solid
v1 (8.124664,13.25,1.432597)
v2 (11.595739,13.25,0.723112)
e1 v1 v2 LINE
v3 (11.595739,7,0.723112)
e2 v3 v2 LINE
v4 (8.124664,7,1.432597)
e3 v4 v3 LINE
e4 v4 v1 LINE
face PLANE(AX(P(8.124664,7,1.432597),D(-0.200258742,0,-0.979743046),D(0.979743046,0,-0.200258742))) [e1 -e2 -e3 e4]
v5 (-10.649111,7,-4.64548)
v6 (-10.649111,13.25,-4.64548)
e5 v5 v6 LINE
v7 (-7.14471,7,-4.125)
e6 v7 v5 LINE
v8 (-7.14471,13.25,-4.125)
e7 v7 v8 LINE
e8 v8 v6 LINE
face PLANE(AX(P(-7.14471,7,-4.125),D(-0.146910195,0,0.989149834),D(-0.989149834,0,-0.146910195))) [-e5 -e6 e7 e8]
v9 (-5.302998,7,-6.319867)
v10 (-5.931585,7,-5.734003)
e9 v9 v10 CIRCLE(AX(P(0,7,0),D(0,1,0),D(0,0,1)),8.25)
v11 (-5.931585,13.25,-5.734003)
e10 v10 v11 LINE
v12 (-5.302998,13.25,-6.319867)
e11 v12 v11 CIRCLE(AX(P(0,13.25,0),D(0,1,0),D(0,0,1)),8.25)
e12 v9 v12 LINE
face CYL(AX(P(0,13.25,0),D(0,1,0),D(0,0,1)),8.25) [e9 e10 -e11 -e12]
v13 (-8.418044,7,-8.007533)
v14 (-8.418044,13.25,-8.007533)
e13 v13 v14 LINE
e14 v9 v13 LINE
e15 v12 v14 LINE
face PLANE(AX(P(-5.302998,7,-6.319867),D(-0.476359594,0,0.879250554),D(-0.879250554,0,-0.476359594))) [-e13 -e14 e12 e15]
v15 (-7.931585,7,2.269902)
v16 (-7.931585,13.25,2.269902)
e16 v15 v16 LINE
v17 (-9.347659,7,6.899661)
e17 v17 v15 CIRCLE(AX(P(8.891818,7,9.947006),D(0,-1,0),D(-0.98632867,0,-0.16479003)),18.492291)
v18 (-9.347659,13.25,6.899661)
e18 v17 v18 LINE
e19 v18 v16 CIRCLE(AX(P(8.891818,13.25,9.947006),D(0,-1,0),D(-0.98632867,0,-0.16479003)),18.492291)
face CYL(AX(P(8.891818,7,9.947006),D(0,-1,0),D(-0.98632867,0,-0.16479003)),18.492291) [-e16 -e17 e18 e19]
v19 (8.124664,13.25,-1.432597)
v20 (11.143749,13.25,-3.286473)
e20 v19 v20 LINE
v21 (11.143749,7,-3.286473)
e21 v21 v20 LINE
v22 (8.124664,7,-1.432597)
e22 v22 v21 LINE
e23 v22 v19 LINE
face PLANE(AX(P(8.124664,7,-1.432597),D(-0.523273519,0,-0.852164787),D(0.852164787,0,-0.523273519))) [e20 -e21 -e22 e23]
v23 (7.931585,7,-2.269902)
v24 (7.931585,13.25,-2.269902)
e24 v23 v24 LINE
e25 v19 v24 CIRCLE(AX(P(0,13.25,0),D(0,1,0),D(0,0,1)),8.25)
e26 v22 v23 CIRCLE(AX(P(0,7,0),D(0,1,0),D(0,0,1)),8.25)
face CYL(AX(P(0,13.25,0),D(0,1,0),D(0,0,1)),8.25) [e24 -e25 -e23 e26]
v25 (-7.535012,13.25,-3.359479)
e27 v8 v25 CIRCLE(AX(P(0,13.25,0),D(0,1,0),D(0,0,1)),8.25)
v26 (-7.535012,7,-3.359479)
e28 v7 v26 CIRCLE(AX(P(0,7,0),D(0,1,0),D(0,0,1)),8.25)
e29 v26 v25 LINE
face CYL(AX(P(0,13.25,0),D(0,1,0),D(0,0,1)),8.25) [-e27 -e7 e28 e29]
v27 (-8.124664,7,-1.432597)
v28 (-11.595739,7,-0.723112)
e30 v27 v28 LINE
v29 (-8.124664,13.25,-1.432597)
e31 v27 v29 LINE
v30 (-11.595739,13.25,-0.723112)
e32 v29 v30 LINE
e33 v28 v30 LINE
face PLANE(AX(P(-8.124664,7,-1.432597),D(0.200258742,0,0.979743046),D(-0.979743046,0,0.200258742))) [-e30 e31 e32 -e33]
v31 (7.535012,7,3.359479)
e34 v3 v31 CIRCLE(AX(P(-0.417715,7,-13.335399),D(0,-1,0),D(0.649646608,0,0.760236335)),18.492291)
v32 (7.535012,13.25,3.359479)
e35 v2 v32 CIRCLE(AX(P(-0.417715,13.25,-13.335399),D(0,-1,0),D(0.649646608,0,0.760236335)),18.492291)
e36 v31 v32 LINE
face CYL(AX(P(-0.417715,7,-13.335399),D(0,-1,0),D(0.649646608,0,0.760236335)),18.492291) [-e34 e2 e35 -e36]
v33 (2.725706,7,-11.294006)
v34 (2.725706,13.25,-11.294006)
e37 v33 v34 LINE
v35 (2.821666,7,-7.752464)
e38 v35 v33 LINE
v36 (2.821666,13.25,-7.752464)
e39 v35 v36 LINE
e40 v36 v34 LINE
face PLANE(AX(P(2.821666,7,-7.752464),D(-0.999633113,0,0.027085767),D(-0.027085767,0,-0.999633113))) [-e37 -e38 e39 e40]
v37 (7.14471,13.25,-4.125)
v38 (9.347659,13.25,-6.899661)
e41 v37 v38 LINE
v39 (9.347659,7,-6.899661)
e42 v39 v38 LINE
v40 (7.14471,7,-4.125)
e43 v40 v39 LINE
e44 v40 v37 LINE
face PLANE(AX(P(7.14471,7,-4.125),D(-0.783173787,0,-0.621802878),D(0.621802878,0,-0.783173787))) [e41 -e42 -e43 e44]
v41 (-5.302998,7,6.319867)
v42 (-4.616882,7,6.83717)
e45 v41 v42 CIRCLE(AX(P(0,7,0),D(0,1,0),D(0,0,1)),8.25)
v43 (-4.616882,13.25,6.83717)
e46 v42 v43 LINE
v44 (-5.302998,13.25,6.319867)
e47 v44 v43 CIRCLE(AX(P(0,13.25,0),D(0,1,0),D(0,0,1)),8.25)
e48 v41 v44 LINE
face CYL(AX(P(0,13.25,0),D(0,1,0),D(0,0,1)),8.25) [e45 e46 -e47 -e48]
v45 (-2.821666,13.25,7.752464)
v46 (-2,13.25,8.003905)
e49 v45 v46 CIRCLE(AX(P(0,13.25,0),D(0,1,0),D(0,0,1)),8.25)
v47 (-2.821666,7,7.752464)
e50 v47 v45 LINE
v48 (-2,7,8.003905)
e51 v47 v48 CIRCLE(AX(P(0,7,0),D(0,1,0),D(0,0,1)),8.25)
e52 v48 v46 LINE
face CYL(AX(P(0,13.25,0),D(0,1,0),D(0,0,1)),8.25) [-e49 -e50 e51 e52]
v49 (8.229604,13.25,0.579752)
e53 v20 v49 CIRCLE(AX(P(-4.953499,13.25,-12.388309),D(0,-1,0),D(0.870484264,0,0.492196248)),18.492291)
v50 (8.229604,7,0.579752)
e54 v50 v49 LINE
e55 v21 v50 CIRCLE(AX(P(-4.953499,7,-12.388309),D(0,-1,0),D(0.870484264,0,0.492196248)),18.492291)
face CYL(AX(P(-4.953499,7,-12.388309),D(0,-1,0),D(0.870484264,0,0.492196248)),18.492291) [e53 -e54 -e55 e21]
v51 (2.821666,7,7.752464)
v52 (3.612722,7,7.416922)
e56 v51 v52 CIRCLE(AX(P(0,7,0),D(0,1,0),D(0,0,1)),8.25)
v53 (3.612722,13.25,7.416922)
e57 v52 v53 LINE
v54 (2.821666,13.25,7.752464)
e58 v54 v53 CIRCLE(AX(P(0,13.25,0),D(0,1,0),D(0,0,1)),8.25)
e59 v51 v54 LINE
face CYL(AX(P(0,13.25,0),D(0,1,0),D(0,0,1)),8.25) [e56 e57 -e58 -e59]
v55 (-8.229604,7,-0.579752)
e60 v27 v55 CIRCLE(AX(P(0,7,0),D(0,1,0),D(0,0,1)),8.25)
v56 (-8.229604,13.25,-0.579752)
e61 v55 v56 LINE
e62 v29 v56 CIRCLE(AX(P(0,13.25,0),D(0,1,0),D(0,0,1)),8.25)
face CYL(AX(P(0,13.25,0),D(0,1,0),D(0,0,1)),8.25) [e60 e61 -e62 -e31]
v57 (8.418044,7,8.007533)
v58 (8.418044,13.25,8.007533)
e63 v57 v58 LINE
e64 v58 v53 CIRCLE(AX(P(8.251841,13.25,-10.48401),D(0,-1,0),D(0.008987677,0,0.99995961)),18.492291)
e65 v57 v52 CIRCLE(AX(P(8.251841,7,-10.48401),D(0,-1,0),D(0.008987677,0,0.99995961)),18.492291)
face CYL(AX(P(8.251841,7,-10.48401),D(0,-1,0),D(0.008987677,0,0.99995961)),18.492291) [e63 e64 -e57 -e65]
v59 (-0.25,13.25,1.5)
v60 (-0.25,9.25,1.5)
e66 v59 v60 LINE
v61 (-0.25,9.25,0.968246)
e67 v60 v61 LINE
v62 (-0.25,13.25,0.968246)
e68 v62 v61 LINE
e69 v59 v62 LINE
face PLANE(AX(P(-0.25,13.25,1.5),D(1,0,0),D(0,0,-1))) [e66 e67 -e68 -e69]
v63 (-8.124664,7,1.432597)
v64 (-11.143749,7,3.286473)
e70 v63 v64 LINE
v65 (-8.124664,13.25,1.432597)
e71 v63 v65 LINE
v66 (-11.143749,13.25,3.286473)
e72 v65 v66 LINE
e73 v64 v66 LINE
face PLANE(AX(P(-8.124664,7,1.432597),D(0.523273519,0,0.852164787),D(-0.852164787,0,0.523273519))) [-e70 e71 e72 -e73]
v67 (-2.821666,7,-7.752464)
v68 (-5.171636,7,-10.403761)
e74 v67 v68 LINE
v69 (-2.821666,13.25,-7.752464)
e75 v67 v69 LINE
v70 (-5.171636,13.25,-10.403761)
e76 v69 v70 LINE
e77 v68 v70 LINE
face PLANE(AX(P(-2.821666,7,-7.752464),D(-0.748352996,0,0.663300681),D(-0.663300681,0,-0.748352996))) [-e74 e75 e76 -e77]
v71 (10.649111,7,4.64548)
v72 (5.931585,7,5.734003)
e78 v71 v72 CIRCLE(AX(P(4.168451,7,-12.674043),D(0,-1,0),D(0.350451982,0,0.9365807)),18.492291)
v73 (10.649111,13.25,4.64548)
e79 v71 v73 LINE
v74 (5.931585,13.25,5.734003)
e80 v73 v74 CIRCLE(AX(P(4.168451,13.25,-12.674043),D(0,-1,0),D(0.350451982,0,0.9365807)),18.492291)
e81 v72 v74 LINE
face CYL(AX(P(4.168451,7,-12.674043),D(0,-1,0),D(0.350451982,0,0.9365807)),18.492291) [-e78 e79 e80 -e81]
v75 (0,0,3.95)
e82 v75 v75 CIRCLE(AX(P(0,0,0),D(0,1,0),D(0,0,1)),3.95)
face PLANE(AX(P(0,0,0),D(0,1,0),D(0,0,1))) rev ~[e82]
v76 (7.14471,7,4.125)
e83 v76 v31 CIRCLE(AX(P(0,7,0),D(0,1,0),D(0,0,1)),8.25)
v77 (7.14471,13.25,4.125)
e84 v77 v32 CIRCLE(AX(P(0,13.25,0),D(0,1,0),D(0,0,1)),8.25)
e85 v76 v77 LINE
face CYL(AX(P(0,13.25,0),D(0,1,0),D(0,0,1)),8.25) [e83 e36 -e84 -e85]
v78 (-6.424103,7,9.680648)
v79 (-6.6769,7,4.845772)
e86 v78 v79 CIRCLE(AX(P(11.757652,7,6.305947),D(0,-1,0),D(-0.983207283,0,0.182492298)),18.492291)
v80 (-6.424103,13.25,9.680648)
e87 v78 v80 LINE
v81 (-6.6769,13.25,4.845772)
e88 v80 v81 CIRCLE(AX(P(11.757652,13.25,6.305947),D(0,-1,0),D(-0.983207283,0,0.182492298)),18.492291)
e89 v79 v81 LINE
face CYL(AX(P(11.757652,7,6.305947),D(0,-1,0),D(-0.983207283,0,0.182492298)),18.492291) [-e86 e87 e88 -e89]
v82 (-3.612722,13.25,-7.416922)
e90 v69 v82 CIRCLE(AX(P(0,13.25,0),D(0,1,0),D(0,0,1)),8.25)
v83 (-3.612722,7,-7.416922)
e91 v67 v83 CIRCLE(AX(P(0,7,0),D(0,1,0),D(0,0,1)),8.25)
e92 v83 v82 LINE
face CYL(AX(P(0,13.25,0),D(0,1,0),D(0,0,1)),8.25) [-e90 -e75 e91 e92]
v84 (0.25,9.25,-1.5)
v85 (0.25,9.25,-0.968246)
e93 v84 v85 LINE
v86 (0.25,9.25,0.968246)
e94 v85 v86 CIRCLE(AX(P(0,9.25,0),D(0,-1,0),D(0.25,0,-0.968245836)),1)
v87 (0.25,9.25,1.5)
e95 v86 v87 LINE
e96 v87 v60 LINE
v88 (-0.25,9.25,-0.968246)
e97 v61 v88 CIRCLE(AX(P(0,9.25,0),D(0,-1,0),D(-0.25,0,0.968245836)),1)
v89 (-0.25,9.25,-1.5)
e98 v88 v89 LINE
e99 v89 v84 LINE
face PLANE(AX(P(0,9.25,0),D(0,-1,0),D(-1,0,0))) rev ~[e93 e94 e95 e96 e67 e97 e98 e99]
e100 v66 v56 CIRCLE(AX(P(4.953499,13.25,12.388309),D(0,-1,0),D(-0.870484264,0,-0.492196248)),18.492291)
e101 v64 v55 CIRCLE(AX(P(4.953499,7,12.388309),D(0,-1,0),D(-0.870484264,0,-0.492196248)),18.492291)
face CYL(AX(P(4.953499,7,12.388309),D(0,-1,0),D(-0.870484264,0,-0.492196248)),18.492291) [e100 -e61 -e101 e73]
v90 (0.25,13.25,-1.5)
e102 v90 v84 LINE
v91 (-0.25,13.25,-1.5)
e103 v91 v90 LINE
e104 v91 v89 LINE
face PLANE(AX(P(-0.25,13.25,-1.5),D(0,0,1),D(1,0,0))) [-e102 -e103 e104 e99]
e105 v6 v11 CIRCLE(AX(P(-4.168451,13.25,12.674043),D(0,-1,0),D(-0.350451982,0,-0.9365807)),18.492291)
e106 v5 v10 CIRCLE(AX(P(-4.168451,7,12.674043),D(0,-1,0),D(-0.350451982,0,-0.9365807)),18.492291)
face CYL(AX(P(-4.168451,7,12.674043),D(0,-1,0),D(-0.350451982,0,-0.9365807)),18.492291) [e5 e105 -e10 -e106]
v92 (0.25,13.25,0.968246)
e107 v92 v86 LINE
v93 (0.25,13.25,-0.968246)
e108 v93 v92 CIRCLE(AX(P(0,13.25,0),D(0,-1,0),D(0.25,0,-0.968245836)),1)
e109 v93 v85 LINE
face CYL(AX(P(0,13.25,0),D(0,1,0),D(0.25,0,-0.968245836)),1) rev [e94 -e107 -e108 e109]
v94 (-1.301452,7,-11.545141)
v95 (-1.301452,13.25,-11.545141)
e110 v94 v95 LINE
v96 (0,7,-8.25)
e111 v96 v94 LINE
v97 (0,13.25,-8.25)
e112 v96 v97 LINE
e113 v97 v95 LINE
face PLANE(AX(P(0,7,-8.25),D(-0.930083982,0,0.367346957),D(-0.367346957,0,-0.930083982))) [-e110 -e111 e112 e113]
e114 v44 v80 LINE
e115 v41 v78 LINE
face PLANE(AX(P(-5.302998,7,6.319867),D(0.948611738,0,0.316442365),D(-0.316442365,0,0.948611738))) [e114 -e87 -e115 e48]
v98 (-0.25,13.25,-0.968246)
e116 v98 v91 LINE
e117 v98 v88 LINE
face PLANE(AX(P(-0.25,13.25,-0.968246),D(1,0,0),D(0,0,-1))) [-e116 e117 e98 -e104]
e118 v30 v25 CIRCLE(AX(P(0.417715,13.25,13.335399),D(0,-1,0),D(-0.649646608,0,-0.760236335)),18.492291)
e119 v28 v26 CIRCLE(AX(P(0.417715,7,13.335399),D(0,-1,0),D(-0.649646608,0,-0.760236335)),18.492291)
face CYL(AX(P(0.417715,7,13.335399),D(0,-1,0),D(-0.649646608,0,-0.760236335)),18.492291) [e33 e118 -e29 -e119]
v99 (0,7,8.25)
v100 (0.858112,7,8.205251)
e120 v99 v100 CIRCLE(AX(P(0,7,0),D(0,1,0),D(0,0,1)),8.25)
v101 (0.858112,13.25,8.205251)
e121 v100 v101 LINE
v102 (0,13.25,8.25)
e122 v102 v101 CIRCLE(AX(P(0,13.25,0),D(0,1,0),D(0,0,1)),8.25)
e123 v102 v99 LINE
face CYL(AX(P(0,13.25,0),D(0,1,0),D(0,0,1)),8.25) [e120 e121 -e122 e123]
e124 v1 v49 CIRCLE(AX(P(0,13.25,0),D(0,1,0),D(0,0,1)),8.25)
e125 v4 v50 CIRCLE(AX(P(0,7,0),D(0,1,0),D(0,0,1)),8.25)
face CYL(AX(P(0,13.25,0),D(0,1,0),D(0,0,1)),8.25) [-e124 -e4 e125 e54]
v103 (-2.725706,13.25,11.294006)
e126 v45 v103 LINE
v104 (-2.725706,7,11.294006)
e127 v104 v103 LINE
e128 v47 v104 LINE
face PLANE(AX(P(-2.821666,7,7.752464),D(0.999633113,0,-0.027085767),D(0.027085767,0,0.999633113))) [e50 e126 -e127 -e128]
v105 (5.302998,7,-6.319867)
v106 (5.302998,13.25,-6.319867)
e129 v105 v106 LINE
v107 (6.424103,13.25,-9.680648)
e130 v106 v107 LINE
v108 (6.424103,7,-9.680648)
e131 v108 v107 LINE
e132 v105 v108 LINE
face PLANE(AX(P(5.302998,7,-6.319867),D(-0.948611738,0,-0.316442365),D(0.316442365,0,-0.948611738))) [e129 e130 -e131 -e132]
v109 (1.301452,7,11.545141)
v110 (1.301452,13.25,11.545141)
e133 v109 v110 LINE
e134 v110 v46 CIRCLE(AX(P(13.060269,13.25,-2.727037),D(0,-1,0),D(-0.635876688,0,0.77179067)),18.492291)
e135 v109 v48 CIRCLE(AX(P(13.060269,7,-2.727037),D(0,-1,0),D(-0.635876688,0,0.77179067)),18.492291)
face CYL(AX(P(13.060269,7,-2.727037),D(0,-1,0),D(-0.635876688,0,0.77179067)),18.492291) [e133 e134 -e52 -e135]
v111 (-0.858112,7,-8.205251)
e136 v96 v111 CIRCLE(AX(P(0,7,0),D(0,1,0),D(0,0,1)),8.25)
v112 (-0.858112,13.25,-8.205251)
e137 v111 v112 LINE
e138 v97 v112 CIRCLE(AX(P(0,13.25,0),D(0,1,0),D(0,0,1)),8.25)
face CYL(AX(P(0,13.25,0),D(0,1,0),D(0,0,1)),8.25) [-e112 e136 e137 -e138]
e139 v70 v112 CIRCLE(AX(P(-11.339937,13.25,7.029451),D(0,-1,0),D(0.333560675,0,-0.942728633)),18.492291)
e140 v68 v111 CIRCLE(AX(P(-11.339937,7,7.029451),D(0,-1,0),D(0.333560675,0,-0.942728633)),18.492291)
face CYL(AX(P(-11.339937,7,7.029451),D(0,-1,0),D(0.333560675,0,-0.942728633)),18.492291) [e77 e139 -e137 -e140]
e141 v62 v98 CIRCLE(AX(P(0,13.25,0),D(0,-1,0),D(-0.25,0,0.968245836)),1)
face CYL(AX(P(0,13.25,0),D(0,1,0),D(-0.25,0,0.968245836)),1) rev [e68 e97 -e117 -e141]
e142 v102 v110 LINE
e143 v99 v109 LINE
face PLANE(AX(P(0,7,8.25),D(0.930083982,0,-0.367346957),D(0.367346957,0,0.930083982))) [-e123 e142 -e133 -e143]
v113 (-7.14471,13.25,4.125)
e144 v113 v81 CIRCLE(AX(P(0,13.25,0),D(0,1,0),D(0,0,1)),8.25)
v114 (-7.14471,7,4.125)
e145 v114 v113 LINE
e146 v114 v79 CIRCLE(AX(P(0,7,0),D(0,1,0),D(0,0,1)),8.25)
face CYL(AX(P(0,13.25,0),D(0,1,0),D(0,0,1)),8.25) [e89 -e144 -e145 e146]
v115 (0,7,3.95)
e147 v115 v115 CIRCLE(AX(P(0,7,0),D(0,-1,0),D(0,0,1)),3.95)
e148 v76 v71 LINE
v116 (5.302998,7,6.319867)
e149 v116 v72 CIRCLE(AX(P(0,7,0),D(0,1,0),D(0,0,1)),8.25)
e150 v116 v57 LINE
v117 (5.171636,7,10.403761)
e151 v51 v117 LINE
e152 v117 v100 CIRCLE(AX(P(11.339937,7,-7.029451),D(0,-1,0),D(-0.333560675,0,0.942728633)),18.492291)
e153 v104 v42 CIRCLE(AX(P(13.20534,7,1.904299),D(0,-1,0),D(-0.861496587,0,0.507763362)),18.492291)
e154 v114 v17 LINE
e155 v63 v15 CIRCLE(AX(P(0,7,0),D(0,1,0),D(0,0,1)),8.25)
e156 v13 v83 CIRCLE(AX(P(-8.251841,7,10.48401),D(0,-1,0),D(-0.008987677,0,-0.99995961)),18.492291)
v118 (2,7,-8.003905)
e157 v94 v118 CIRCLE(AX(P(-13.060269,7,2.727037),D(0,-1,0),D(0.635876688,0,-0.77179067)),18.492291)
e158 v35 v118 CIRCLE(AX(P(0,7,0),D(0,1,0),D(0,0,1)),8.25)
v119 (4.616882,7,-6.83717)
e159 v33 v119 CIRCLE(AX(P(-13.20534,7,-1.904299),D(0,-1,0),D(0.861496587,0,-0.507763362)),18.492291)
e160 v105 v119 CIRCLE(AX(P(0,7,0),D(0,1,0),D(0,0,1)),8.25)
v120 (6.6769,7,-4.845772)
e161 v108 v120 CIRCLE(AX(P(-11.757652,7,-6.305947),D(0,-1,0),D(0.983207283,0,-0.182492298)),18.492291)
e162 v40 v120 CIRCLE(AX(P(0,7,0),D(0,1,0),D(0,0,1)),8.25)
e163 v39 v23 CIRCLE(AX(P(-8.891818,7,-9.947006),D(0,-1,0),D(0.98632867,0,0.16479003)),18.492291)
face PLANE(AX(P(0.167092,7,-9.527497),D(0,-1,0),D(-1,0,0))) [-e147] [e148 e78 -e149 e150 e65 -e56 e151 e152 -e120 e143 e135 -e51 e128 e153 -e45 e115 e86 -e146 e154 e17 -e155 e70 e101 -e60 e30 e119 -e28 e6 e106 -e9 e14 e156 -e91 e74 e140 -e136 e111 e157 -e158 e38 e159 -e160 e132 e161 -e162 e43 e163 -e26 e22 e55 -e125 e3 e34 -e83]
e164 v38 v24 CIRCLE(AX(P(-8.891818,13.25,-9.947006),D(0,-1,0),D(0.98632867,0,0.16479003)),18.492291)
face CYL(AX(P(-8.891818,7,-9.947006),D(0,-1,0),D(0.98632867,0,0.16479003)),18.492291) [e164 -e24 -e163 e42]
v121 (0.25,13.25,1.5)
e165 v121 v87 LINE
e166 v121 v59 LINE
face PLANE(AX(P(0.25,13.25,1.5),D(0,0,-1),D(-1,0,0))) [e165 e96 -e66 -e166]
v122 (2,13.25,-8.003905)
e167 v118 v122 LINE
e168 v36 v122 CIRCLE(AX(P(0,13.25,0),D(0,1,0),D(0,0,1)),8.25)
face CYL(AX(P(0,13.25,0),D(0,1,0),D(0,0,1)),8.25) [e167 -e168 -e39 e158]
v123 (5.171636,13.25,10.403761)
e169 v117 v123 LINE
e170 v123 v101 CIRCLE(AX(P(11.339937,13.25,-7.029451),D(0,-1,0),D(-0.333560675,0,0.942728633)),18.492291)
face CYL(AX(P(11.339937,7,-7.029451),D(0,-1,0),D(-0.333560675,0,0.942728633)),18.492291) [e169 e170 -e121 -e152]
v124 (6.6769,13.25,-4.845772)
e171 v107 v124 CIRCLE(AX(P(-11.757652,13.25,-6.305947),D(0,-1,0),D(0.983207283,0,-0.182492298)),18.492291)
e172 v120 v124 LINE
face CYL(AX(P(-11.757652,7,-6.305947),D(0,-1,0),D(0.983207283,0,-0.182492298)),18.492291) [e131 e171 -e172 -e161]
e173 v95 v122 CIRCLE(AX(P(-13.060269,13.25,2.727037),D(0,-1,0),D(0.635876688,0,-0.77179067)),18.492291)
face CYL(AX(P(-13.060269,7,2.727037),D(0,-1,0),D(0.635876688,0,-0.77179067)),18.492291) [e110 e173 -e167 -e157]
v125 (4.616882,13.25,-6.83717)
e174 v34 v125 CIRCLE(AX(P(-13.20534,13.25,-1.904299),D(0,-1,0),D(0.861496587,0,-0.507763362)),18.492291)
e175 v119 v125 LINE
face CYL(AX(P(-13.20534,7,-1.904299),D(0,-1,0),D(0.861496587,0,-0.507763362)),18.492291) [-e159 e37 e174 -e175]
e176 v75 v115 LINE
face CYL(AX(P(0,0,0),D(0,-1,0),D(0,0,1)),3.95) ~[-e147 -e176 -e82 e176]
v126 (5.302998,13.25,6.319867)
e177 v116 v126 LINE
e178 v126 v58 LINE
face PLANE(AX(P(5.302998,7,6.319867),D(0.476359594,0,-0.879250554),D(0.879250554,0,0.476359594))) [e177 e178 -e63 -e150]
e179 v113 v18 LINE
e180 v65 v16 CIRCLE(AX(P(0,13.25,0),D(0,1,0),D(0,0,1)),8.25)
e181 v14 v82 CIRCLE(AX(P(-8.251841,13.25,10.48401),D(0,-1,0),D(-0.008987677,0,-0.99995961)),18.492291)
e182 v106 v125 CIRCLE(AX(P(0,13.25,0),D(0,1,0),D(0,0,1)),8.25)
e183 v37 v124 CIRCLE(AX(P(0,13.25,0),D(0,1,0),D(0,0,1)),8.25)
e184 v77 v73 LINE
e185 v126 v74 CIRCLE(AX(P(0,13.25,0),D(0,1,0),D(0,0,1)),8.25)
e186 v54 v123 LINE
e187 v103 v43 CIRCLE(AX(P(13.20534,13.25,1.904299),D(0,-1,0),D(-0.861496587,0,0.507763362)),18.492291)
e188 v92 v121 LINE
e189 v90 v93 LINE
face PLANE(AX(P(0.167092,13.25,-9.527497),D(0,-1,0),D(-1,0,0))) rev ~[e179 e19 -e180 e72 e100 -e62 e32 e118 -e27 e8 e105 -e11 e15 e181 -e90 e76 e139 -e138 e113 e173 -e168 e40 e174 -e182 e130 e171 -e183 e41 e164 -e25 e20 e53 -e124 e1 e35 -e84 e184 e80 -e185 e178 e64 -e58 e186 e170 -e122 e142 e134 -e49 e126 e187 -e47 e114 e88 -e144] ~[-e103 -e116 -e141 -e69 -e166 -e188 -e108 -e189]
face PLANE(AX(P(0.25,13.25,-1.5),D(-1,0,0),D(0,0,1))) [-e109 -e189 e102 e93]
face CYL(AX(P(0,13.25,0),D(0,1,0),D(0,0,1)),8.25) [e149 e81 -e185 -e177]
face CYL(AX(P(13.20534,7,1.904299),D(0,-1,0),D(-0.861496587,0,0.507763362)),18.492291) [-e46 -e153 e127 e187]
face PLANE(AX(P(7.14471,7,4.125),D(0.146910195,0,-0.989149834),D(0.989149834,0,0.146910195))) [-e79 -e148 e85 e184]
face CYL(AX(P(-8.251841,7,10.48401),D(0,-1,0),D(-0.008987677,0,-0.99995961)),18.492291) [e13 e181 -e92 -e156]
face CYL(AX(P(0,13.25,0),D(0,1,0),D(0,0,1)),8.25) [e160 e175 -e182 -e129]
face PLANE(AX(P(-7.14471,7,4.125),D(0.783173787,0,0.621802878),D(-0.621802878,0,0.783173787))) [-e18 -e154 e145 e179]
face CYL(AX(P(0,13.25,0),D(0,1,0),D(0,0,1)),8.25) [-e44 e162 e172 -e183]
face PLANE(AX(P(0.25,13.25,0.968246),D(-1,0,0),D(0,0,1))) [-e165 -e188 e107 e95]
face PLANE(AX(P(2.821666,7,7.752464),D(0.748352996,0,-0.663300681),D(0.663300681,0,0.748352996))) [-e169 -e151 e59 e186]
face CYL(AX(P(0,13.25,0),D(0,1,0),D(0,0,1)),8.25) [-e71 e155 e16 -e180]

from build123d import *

# Parameters (mm, degrees)
SKETCH2_R           = 3.95
BOSS_EXTRUDE1_DEPTH = 13.25
SKETCH3_R           = 8.25
BOSS_EXTRUDE2_DEPTH = 6.25
CUT_EXTRUDE1_DEPTH  = 4
BOSS_EXTRUDE3_DEPTH = 6.25


with BuildPart() as part:
    # Sketch2 → Boss-Extrude1 (new body)
    with BuildSketch(Plane(origin=(0, 0, 0), x_dir=(1, 0, 0), z_dir=(0, 1, 0))):
        with Locations(Location((0, 0, 0), (0, 0, 270))):
            Circle(SKETCH2_R)
    extrude(amount=BOSS_EXTRUDE1_DEPTH)

    # Sketch3 → Boss-Extrude2 (add)
    with BuildSketch(Plane(origin=(0, 13.25, 0), x_dir=(1, 0, 0), z_dir=(0, 1, 0))):
        with Locations(Location((0, 0, 0), (0, 0, 270))):
            Circle(SKETCH3_R)
    extrude(amount=-BOSS_EXTRUDE2_DEPTH)

    # Sketch5 → Cut-Extrude1 (cut)
    with BuildSketch(Plane(origin=(0, 13.25, 0), x_dir=(1, 0, 0), z_dir=(0, 1, 0))):
        with BuildLine():
            Line((0.25, -0.968245837), (0.25, -1.5))
            Line((0.25, -1.5), (-0.25, -1.5))
            Line((-0.25, -1.5), (-0.25, -0.968245837))
            ThreePointArc((-0.25, -0.968245837), (-1, 0), (-0.25, 0.968245837))
            Line((-0.25, 0.968245837), (-0.25, 1.5))
            Line((-0.25, 1.5), (0.25, 1.5))
            Line((0.25, 1.5), (0.25, 0.968245837))
            ThreePointArc((0.25, 0.968245837), (1, 0), (0.25, -0.968245837))
        make_face()
    extrude(amount=-CUT_EXTRUDE1_DEPTH, mode=Mode.SUBTRACT)

    # Sketch4 → Boss-Extrude3 (add)
    with BuildSketch(Plane(origin=(0, 7, 0), x_dir=(1, 0, 0), z_dir=(0, 1, 0))):
        with BuildLine():
            Line((0, 8.25), (-1.301452207, 11.545140545))
            ThreePointArc((-1.301452207, 11.545140545), (0.465666366, 9.883034259), (2, 8.003905297))
            Line((2, 8.003905297), (0, 8.25))
        make_face()
        with BuildLine():
            Line((2.821666182, 7.752464121), (2.725705589, 11.294006247))
            ThreePointArc((2.725705589, 11.294006247), (3.817780042, 9.127747087), (4.616882078, 6.837170458))
            Line((4.616882078, 6.837170458), (2.821666182, 7.752464121))
        make_face()
        with BuildLine():
            Line((5.30299778, 6.319866656), (6.424103064, 9.680648113))
            ThreePointArc((6.424103064, 9.680648113), (6.7094131, 7.271518905), (6.67690004, 4.845771956))
            Line((6.67690004, 4.845771956), (5.30299778, 6.319866656))
        make_face()
        with BuildLine():
            Line((7.144709581, 4.125), (9.347658899, 6.899660946))
            ThreePointArc((9.347658899, 6.899660946), (8.791791918, 4.538238227), (7.931585317, 2.269901841))
            Line((7.931585317, 2.269901841), (7.144709581, 4.125))
        make_face()
        with BuildLine():
            Line((8.124663962, 1.432597466), (11.143749115, 3.28647284))
            ThreePointArc((11.143749115, 3.28647284), (9.813750878, 1.257579041), (8.229604346, -0.579751937))
            Line((8.229604346, -0.579751937), (8.124663962, 1.432597466))
        make_face()
        with BuildLine():
            Line((8.124663962, -1.432597466), (11.595738723, -0.723112393))
            ThreePointArc((11.595738723, -0.723112393), (9.652026646, -2.174762737), (7.535011635, -3.359479075))
            Line((7.535011635, -3.359479075), (8.124663962, -1.432597466))
        make_face()
        with BuildLine():
            Line((7.144709581, -4.125), (10.649111106, -4.6454796))
            ThreePointArc((10.649111106, -4.6454796), (8.326125552, -5.344796032), (5.931585317, -5.734003456))
            Line((5.931585317, -5.734003456), (7.144709581, -4.125))
        make_face()
        with BuildLine():
            Line((5.30299778, -6.319866656), (8.418043526, -8.007533407))
            ThreePointArc((8.418043526, -8.007533407), (5.995970836, -7.870168046), (3.612722268, -7.416922395))
            Line((3.612722268, -7.416922395), (5.30299778, -6.319866656))
        make_face()
        with BuildLine():
            Line((2.821666182, -7.752464121), (5.171635659, -10.403760506))
            ThreePointArc((5.171635659, -10.403760506), (2.942613546, -9.446281642), (0.858111595, -8.205251032))
            Line((0.858111595, -8.205251032), (2.821666182, -7.752464121))
        make_face()
        with BuildLine():
            Line((0, -8.25), (1.301452207, -11.545140545))
            ThreePointArc((1.301452207, -11.545140545), (-0.465666366, -9.883034259), (-2, -8.003905297))
            Line((-2, -8.003905297), (0, -8.25))
        make_face()
        with BuildLine():
            Line((-2.821666182, -7.752464121), (-2.725705589, -11.294006247))
            ThreePointArc((-2.725705589, -11.294006247), (-3.817780042, -9.127747087), (-4.616882078, -6.837170458))
            Line((-4.616882078, -6.837170458), (-2.821666182, -7.752464121))
        make_face()
        with BuildLine():
            Line((-5.30299778, -6.319866656), (-6.424103064, -9.680648113))
            ThreePointArc((-6.424103064, -9.680648113), (-6.7094131, -7.271518905), (-6.67690004, -4.845771956))
            Line((-6.67690004, -4.845771956), (-5.30299778, -6.319866656))
        make_face()
        with BuildLine():
            Line((-7.144709581, -4.125), (-9.347658899, -6.899660946))
            ThreePointArc((-9.347658899, -6.899660946), (-8.791791918, -4.538238227), (-7.931585317, -2.269901841))
            Line((-7.931585317, -2.269901841), (-7.144709581, -4.125))
        make_face()
        with BuildLine():
            Line((-8.124663962, -1.432597466), (-11.143749115, -3.28647284))
            ThreePointArc((-11.143749115, -3.28647284), (-9.813750878, -1.257579041), (-8.229604346, 0.579751937))
            Line((-8.229604346, 0.579751937), (-8.124663962, -1.432597466))
        make_face()
        with BuildLine():
            Line((-8.124663962, 1.432597466), (-11.595738723, 0.723112393))
            ThreePointArc((-11.595738723, 0.723112393), (-9.652026646, 2.174762737), (-7.535011635, 3.359479075))
            Line((-7.535011635, 3.359479075), (-8.124663962, 1.432597466))
        make_face()
        with BuildLine():
            Line((-7.144709581, 4.125), (-10.649111106, 4.6454796))
            ThreePointArc((-10.649111106, 4.6454796), (-8.326125552, 5.344796032), (-5.931585317, 5.734003456))
            Line((-5.931585317, 5.734003456), (-7.144709581, 4.125))
        make_face()
        with BuildLine():
            Line((-5.30299778, 6.319866656), (-8.418043526, 8.007533407))
            ThreePointArc((-8.418043526, 8.007533407), (-5.995970836, 7.870168046), (-3.612722268, 7.416922395))
            Line((-3.612722268, 7.416922395), (-5.30299778, 6.319866656))
        make_face()
        with BuildLine():
            Line((-2.821666182, 7.752464121), (-5.171635659, 10.403760506))
            ThreePointArc((-5.171635659, 10.403760506), (-2.942613546, 9.446281642), (-0.858111595, 8.205251032))
            Line((-0.858111595, 8.205251032), (-2.821666182, 7.752464121))
        make_face()
    extrude(amount=BOSS_EXTRUDE3_DEPTH)


solid = part.part
